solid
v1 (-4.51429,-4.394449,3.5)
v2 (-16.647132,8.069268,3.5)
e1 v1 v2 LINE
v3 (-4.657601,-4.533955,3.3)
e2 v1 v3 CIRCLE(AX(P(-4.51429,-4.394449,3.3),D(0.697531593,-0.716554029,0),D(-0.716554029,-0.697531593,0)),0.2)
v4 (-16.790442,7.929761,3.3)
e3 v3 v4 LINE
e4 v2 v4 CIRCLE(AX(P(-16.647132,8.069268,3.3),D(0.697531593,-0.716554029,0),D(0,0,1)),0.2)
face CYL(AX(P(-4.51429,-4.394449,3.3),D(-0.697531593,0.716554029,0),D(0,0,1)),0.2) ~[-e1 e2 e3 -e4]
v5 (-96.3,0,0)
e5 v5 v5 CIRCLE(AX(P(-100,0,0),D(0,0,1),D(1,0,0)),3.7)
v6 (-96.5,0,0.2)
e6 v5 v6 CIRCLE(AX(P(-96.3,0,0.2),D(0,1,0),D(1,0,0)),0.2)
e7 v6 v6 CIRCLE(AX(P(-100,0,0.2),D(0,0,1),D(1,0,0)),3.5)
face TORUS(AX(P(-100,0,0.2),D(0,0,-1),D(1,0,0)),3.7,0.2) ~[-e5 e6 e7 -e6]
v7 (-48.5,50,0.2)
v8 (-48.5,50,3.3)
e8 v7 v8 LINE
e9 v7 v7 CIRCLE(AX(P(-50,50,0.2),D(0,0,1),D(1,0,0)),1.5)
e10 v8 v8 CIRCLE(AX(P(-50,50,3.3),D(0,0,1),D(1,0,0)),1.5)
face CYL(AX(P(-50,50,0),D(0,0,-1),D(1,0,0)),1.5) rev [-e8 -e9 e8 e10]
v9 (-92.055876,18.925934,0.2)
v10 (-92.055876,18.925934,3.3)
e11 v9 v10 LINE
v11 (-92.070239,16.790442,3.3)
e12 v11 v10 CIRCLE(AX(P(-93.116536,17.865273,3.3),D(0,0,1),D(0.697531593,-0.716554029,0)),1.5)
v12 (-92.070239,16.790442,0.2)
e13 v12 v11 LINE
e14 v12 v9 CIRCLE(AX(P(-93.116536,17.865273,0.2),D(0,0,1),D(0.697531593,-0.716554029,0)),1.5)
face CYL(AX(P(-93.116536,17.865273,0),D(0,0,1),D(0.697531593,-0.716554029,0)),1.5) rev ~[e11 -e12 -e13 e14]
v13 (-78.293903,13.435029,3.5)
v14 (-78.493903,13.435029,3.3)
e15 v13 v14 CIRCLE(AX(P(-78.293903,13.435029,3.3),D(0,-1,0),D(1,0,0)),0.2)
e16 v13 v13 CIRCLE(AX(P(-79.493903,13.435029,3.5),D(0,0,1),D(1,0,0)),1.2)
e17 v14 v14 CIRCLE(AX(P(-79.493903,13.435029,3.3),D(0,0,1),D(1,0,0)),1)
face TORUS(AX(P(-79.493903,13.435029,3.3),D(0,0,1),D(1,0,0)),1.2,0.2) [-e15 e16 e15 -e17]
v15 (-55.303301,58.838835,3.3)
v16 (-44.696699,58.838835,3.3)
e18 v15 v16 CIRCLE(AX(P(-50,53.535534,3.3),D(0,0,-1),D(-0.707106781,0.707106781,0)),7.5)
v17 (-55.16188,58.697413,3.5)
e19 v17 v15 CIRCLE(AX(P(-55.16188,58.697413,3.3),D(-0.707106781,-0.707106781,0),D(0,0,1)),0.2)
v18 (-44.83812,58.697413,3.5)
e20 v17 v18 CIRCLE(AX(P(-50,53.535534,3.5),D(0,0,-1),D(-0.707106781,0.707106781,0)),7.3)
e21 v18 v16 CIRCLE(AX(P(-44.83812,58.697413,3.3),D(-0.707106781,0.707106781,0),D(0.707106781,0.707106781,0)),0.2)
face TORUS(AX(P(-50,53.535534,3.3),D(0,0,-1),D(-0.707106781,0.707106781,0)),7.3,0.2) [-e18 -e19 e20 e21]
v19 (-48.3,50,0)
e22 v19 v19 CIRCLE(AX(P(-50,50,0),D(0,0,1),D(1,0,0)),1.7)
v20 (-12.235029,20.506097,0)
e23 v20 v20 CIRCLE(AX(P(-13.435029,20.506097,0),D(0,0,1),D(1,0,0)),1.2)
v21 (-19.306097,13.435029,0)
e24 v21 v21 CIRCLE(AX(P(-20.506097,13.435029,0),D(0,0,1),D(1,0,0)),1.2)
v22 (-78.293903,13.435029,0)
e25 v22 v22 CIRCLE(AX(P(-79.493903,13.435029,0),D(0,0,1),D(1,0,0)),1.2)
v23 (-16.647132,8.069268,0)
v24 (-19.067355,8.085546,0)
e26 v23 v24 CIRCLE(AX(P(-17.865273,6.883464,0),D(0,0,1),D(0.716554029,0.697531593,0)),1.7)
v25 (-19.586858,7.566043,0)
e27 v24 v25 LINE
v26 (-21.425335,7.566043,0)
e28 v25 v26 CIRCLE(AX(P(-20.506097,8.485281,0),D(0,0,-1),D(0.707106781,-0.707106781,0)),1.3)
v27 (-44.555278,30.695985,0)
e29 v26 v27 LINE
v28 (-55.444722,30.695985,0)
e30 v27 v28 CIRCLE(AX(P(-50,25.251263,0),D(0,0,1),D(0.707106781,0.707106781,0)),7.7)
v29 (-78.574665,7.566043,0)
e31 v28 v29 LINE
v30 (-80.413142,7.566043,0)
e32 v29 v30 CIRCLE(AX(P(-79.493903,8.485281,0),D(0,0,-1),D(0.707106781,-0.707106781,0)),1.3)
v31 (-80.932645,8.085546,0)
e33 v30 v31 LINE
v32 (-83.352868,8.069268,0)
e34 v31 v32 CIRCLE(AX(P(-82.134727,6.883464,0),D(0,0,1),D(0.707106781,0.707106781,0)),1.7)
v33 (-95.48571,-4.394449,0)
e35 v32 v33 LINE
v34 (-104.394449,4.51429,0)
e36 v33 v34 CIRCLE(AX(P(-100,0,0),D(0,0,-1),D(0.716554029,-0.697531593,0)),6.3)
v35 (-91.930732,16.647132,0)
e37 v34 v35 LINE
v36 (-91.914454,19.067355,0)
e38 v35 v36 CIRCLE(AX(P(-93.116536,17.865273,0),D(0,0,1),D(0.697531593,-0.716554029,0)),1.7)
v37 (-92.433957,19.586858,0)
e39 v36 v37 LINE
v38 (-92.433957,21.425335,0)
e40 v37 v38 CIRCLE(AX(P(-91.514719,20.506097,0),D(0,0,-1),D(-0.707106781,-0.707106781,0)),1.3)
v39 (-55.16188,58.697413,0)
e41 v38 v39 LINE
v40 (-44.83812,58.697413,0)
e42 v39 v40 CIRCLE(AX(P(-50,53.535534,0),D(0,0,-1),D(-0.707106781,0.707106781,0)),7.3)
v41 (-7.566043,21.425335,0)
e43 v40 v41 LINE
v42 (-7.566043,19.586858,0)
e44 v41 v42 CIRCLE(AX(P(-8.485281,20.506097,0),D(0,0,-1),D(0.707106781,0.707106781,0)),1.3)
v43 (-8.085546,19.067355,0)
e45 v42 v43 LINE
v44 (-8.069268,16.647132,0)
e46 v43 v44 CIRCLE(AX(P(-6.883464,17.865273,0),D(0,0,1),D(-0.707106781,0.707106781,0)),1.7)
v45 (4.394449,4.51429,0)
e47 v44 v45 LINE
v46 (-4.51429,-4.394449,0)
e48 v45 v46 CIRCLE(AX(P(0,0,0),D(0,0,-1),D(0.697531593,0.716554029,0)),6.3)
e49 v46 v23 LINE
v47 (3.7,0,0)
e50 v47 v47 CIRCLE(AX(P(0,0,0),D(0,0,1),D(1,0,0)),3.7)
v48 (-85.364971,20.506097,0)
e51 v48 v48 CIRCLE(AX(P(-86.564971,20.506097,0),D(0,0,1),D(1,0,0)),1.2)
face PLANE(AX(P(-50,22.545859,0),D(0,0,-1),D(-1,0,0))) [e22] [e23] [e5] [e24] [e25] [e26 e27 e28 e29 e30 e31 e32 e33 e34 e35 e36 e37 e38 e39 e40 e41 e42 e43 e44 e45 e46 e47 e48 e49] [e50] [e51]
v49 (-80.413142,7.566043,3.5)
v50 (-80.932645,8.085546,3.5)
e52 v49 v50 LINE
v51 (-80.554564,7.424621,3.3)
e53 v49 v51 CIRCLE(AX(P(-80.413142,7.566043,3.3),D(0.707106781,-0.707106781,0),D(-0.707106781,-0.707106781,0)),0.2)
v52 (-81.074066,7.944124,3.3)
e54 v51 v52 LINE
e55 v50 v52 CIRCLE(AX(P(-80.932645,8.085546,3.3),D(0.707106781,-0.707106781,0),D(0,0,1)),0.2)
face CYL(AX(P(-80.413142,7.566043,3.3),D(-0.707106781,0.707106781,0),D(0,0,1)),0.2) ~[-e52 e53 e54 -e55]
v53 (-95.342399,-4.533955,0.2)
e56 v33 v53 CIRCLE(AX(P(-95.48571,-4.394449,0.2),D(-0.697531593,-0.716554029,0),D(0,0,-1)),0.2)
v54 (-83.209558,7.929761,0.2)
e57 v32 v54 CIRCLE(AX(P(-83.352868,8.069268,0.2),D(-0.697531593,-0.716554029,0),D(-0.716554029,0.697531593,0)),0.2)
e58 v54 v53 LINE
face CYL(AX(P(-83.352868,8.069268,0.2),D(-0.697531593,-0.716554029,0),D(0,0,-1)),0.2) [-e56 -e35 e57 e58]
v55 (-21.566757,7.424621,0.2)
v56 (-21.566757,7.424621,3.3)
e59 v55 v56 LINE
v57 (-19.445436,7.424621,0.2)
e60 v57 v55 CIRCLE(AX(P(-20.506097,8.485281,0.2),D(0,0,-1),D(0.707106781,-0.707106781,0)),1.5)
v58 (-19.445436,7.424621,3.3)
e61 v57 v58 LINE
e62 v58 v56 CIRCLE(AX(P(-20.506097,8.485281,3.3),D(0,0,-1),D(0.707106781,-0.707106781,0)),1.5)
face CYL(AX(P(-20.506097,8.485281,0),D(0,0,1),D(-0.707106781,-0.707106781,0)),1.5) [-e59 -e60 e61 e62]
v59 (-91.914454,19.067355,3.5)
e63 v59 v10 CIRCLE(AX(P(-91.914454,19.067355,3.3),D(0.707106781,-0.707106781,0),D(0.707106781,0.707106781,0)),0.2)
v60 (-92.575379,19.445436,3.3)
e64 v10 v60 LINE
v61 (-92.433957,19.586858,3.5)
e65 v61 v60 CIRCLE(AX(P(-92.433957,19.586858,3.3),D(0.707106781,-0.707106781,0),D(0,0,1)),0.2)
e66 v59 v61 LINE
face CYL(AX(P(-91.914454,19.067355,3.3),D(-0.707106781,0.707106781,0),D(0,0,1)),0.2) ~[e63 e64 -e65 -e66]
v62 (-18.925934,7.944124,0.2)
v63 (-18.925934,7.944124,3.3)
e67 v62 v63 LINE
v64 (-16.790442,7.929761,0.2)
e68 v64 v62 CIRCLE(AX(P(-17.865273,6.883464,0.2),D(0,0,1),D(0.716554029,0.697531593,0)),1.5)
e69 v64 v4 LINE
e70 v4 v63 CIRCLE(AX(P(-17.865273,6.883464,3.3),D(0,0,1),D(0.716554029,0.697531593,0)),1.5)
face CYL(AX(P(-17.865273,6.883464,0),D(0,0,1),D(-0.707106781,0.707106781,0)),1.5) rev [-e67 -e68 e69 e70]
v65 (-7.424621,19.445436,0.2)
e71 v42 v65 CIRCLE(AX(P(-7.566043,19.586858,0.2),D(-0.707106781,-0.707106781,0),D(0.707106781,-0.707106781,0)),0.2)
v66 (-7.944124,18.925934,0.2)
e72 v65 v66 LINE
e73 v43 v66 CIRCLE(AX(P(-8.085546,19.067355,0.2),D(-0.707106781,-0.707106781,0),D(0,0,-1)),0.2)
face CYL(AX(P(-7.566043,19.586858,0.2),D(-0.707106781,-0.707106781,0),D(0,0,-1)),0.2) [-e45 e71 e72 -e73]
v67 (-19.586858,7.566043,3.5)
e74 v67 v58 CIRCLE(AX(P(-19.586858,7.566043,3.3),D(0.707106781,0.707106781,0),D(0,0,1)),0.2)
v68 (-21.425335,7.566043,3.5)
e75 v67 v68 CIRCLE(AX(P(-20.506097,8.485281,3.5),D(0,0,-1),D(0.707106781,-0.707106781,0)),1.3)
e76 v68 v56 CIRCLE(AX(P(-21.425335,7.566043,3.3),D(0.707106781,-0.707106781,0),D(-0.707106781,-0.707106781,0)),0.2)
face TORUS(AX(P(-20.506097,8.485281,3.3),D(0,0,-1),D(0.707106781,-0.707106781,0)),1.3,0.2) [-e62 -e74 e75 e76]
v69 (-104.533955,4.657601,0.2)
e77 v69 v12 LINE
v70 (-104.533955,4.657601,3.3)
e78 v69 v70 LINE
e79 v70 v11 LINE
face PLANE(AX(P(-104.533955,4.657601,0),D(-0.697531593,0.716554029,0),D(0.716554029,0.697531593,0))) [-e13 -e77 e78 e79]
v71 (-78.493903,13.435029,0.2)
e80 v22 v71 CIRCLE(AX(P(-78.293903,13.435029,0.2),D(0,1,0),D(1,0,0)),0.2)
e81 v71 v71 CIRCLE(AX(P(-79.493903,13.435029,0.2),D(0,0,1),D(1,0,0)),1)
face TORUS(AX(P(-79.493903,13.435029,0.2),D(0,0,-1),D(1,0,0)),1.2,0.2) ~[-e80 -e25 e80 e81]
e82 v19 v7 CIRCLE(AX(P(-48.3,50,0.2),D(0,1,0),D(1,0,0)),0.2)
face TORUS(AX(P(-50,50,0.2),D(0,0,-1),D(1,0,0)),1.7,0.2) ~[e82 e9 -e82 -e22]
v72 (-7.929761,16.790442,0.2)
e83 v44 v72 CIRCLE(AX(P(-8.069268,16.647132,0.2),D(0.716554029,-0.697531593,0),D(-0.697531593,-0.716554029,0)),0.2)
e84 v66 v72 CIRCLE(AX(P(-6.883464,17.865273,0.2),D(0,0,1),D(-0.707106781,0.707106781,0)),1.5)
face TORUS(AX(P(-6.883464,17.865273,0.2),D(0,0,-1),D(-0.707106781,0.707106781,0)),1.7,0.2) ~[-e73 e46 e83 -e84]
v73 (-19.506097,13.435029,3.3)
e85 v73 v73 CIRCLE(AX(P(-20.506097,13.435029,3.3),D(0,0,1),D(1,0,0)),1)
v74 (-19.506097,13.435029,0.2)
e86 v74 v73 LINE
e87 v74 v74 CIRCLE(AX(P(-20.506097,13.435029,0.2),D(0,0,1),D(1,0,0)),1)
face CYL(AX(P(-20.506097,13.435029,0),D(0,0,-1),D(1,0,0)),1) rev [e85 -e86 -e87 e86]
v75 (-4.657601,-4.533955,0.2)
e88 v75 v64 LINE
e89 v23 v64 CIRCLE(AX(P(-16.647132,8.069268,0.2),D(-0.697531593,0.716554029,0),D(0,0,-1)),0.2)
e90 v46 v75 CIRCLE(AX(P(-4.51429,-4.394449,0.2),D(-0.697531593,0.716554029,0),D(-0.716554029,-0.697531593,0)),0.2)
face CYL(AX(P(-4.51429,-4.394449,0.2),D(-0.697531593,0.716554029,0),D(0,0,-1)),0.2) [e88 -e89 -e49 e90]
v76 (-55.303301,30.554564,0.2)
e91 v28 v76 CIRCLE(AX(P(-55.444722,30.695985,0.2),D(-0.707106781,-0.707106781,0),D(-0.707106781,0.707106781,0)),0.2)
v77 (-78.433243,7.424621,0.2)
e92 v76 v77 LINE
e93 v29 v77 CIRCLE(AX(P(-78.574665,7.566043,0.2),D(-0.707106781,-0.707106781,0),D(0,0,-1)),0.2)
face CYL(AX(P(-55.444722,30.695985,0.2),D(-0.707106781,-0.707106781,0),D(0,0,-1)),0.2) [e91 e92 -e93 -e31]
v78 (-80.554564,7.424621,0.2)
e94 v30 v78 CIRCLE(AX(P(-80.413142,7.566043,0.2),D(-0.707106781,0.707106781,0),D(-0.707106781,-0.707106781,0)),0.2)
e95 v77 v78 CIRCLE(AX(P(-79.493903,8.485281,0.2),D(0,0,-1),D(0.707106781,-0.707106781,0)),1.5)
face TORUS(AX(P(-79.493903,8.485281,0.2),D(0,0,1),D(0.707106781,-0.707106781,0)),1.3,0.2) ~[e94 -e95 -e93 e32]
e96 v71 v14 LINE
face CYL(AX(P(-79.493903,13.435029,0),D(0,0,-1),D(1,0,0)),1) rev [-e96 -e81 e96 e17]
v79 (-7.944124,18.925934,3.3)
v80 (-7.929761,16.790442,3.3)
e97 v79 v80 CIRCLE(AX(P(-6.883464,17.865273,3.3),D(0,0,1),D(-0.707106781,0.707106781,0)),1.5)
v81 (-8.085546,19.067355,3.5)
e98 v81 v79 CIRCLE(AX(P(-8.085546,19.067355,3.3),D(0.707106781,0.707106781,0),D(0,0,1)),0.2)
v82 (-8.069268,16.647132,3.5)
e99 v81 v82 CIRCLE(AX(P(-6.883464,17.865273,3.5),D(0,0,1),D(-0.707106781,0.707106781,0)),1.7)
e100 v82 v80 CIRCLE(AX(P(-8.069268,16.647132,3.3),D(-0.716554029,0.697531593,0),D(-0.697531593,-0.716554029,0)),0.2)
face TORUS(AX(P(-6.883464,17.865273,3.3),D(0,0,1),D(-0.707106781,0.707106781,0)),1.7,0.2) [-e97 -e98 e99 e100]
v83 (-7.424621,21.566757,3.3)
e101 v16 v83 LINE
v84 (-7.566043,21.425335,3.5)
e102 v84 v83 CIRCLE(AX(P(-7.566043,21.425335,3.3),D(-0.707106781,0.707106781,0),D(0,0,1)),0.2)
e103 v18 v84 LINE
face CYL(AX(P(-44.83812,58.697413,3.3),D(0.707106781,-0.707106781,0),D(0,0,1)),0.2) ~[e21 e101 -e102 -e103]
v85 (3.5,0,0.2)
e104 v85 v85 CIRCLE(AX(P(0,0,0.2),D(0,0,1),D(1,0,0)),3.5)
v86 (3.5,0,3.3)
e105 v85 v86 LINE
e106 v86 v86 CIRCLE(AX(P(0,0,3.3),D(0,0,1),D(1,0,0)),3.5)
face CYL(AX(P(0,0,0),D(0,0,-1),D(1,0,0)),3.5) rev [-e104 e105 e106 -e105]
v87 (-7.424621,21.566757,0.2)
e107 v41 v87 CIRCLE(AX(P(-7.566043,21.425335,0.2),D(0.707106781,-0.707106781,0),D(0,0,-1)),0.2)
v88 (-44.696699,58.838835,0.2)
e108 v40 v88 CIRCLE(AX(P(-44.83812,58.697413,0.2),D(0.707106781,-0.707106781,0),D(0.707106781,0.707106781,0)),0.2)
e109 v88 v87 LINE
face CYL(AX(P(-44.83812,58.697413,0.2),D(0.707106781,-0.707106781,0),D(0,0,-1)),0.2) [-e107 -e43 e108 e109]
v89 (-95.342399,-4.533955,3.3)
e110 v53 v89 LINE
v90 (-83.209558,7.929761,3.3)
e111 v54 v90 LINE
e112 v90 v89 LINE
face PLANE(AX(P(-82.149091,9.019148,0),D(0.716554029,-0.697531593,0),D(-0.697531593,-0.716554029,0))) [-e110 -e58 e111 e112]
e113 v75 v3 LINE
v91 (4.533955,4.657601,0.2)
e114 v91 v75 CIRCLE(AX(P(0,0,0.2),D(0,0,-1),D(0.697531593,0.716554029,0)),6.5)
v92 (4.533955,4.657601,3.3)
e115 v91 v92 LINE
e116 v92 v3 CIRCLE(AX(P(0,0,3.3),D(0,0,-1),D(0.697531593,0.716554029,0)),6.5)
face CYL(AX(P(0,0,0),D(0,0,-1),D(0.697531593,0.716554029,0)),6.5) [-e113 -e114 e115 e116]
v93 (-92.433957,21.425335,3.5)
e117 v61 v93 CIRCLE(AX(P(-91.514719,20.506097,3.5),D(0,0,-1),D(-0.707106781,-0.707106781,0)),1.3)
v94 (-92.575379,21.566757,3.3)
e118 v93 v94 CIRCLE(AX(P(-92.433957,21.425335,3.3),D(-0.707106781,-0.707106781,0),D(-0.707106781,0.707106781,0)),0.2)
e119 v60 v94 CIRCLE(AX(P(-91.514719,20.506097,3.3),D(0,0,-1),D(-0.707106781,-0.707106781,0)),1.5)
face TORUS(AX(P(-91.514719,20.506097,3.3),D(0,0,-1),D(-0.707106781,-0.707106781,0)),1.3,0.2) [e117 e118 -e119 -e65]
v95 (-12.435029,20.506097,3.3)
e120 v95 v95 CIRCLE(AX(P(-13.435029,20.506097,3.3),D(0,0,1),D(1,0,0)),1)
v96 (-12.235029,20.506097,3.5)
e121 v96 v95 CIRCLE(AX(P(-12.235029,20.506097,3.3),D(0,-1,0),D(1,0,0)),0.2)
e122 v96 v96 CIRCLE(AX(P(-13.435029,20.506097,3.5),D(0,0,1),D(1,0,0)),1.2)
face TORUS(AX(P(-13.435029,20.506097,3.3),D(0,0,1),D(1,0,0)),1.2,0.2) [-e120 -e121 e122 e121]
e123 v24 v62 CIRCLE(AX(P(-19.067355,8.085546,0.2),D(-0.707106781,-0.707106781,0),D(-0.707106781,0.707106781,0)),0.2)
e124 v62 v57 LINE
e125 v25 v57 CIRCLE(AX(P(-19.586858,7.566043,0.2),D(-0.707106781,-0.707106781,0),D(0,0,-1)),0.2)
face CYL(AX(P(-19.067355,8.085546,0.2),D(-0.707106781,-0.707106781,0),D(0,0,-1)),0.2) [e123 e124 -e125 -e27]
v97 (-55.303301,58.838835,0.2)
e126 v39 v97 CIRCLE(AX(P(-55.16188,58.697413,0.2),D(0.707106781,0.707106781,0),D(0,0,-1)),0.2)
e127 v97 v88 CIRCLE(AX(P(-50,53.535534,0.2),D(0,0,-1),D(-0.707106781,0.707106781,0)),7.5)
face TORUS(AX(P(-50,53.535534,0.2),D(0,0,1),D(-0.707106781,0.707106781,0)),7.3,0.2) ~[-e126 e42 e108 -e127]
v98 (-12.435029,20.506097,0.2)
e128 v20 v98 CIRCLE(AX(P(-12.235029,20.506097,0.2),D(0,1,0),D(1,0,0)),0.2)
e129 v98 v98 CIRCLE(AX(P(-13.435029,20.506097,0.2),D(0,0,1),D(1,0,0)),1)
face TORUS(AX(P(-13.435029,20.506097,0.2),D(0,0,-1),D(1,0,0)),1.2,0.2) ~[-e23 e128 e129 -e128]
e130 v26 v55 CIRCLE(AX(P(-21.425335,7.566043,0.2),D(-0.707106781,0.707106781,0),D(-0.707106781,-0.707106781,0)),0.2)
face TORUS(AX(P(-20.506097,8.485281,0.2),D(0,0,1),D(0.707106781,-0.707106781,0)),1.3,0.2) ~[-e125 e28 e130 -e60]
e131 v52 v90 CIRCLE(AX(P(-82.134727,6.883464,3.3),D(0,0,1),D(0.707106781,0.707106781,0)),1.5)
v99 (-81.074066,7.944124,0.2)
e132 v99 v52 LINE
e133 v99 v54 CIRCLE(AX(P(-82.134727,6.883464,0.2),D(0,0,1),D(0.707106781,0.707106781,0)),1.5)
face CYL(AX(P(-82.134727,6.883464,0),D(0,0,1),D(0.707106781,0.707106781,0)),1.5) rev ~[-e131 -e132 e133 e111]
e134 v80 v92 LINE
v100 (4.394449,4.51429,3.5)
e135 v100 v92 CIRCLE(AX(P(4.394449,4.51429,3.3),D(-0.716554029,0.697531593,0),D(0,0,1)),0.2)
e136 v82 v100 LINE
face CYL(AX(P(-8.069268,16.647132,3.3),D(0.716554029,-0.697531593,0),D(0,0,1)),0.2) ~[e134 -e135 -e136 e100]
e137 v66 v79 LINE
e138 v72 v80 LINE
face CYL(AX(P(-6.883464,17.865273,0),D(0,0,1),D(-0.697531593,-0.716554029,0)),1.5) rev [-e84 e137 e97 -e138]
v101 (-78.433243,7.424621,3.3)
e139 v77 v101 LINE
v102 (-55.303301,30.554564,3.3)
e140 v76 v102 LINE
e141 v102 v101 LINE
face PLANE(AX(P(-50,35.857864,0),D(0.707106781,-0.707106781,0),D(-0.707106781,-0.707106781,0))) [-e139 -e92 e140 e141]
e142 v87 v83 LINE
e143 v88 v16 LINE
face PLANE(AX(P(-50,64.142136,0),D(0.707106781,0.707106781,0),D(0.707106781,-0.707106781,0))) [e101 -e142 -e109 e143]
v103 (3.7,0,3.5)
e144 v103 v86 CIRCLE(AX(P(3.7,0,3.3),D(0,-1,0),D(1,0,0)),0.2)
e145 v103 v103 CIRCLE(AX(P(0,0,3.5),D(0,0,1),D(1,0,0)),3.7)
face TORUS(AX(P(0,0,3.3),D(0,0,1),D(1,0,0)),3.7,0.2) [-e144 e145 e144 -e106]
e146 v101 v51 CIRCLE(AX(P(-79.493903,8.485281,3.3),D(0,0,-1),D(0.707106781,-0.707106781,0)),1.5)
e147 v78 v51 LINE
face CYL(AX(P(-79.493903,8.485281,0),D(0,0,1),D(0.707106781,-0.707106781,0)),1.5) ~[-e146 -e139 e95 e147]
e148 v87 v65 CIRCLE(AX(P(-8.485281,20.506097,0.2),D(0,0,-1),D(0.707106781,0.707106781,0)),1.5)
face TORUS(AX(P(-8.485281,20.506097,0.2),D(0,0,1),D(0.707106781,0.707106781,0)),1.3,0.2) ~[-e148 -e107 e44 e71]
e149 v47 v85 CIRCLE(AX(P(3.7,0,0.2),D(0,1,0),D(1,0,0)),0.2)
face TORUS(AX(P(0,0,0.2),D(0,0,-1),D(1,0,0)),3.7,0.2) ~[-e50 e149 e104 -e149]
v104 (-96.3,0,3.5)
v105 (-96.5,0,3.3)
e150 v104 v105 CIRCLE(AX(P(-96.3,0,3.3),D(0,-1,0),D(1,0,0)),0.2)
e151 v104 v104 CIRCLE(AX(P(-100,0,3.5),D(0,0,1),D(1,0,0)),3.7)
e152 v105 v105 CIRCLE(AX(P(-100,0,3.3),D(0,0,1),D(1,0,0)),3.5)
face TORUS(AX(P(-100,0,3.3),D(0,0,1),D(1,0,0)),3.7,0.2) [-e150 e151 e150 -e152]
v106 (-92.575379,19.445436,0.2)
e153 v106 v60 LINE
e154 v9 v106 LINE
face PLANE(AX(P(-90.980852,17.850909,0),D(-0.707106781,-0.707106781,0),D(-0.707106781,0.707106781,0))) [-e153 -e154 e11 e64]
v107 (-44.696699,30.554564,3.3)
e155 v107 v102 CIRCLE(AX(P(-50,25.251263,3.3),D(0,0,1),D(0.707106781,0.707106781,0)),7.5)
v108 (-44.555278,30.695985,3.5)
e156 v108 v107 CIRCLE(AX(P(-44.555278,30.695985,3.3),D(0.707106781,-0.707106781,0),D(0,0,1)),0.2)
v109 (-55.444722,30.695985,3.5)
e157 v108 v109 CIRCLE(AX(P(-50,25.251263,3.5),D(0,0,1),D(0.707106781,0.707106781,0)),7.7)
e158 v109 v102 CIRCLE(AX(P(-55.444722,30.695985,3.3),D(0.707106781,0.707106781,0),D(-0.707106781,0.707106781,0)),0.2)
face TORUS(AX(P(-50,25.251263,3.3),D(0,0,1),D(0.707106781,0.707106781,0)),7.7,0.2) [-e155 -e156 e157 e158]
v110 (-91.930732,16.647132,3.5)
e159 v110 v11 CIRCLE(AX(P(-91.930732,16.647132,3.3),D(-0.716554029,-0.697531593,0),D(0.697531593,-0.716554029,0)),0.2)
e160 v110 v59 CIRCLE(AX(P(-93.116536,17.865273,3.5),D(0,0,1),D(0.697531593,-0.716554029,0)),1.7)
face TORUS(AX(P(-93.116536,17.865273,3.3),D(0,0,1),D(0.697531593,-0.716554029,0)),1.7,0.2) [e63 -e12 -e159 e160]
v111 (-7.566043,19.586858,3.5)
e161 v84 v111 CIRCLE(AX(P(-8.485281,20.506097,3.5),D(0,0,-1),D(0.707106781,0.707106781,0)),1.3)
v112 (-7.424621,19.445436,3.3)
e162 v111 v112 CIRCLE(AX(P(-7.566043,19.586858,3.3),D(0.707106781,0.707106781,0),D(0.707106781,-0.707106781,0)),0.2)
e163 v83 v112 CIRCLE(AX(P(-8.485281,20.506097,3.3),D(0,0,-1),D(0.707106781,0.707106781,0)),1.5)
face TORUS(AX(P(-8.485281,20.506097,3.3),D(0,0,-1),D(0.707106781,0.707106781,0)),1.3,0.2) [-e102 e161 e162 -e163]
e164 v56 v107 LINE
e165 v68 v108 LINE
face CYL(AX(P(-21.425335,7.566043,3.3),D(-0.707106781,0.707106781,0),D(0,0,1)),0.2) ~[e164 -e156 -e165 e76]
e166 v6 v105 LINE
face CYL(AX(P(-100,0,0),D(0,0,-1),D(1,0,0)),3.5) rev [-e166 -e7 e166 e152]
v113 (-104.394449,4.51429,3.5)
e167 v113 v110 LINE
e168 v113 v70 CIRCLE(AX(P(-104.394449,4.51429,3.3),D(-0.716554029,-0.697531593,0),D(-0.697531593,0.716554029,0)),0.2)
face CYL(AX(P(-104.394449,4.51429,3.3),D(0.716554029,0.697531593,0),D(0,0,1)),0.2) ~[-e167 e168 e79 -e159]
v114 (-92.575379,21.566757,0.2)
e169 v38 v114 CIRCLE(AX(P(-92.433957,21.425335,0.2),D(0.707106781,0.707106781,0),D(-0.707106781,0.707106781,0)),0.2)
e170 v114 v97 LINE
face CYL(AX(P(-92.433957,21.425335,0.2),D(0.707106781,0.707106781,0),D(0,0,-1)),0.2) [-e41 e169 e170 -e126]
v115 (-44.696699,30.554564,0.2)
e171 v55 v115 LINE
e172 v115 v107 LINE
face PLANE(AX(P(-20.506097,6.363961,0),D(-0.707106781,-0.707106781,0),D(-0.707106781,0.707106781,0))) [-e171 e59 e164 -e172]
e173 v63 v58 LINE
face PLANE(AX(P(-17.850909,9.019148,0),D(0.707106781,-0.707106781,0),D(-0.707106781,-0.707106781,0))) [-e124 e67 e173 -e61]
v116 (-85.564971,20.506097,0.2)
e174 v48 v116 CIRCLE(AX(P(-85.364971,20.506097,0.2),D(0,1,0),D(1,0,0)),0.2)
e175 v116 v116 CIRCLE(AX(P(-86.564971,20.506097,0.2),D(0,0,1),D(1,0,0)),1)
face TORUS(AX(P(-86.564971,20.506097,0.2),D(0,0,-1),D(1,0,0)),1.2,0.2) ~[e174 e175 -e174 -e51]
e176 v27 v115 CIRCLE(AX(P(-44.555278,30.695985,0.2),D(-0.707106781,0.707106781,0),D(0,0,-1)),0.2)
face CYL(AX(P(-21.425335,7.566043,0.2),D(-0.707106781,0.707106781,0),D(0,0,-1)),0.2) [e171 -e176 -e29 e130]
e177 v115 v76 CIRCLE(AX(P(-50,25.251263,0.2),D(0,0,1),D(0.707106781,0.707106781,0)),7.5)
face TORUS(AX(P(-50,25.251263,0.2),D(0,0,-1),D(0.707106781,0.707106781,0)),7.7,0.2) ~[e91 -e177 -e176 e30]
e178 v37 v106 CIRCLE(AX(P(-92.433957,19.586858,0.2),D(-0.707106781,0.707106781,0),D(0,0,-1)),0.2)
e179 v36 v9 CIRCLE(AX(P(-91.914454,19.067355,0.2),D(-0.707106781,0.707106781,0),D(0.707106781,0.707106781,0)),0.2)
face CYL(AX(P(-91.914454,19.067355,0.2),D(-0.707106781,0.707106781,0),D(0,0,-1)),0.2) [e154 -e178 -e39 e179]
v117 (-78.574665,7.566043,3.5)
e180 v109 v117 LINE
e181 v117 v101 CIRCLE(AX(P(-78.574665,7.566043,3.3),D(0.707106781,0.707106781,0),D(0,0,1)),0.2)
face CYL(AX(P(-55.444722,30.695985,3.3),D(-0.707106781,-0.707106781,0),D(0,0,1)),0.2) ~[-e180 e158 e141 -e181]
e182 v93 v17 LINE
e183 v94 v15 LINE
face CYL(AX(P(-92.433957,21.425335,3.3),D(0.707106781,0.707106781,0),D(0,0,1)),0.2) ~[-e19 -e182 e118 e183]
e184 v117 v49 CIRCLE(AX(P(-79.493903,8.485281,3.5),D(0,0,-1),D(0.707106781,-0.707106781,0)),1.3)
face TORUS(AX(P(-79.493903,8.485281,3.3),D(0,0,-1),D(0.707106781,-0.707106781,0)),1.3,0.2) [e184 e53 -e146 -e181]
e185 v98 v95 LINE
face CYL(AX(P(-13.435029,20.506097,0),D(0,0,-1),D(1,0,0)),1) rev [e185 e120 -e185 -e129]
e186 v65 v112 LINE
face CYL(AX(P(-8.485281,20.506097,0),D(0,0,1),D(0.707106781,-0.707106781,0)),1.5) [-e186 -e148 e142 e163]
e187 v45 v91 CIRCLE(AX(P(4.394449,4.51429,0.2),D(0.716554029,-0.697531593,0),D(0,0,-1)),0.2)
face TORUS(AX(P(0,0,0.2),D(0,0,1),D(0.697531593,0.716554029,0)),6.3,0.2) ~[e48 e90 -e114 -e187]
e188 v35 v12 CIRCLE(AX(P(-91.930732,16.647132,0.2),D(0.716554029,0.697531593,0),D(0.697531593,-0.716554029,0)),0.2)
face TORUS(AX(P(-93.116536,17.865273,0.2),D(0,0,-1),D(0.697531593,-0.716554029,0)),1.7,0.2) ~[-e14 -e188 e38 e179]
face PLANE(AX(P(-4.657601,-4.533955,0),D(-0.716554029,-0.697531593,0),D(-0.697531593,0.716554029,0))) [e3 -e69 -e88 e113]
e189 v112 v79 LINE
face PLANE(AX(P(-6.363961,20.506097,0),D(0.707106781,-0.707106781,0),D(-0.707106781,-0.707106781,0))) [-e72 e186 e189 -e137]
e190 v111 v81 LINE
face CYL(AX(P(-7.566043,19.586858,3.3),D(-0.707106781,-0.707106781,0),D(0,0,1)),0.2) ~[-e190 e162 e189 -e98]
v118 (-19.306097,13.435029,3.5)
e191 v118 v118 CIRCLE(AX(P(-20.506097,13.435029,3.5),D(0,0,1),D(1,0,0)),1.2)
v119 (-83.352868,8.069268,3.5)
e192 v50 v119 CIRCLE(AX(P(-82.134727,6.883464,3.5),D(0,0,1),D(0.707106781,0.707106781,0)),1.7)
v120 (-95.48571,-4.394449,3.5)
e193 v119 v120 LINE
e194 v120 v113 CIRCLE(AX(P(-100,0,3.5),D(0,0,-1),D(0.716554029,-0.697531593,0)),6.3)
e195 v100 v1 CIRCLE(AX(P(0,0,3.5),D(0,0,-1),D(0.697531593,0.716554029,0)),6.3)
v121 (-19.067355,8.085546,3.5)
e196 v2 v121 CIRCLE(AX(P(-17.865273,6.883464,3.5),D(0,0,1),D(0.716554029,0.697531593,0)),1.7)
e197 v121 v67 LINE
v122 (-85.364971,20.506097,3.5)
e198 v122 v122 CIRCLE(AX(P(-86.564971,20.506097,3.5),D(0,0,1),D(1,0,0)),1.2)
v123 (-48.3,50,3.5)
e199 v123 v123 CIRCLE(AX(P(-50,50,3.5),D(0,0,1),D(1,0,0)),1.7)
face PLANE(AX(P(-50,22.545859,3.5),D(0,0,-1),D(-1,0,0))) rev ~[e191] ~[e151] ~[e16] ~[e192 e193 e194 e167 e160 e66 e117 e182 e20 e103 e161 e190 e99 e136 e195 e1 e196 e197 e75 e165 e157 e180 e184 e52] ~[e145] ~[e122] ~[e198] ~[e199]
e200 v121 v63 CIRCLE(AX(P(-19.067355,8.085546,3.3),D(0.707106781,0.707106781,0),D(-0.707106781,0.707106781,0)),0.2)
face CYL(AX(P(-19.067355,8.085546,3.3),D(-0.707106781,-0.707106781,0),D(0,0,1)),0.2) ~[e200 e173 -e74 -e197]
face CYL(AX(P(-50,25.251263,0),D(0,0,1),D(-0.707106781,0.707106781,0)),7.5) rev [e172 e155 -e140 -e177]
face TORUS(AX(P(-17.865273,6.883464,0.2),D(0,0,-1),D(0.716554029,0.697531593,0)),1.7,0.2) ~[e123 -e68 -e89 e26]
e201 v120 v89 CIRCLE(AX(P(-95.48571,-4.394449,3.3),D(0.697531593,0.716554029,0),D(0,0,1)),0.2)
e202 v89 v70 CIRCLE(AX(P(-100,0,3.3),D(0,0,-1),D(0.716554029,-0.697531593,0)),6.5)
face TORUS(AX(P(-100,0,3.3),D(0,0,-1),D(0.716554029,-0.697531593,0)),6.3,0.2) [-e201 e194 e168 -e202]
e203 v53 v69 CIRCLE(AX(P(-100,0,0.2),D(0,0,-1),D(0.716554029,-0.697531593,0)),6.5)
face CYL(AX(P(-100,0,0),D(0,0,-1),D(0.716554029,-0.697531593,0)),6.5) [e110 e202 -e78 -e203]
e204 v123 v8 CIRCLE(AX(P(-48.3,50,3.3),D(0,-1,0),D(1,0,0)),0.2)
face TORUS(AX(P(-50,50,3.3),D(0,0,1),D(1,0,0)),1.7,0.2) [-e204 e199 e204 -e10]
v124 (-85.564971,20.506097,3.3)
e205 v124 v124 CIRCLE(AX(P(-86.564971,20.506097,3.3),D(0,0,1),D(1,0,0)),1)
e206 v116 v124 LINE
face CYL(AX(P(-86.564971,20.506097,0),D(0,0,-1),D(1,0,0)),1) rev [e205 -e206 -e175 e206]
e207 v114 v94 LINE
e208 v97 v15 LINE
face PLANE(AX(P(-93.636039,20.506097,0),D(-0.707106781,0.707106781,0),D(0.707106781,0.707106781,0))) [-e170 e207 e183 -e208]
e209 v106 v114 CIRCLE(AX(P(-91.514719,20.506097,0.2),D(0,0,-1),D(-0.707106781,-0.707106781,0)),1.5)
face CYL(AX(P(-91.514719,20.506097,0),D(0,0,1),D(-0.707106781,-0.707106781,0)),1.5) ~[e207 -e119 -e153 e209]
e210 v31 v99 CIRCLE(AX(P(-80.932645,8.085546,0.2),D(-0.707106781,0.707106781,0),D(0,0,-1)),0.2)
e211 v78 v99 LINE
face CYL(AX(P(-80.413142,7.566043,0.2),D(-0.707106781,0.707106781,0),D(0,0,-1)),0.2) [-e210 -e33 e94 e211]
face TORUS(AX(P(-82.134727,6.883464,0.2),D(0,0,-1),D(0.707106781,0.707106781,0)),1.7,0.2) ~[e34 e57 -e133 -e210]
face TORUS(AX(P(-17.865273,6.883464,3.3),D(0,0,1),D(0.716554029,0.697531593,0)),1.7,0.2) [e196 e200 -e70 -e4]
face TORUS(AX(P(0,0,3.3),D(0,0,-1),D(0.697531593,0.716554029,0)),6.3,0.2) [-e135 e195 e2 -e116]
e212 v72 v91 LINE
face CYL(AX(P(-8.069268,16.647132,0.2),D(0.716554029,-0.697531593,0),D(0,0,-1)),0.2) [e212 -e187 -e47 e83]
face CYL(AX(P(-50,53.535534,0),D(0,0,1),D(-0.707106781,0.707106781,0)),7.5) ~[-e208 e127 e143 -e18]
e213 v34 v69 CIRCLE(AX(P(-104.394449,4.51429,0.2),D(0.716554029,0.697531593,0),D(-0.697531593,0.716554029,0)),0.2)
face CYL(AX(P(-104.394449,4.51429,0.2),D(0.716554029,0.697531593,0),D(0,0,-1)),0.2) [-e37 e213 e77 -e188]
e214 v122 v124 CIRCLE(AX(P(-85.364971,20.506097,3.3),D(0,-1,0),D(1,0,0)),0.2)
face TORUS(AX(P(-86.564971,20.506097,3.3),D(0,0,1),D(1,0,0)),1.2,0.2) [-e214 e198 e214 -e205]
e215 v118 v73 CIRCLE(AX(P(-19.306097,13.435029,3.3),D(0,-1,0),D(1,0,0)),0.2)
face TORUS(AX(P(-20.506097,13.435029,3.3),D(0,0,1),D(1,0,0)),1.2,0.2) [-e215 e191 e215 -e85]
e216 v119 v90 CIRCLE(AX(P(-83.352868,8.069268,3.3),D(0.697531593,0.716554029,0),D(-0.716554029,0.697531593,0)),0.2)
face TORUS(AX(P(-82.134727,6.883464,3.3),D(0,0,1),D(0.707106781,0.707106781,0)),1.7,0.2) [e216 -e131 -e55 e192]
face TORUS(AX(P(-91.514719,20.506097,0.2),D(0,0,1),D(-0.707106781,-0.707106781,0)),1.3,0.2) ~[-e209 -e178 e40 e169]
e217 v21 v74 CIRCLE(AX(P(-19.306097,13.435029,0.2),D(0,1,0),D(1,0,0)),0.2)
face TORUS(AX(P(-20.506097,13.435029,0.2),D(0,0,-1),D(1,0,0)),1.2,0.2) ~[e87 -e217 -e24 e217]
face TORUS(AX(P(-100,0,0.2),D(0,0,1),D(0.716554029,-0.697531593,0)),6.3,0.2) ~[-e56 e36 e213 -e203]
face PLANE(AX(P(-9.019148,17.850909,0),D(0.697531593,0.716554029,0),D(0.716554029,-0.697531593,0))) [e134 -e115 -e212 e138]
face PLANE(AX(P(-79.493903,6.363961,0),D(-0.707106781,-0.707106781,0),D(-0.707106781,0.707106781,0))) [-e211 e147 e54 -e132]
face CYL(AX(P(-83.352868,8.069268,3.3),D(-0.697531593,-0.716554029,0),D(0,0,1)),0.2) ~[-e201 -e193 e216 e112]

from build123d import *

# Parameters (mm, degrees)
SKETCH5_R           = 3.5
SKETCH5_R_2         = 1
SKETCH5_R_3         = 1.5
BOSS_EXTRUDE1_DEPTH = 3.5
FILLET1_R           = 7.5
FILLET2_R           = 1.5
FILLET3_R           = 0.2


with BuildPart() as part:
    # Sketch5 → Boss-Extrude1 (new body)
    with BuildSketch(Plane.XY):
        with BuildLine():
            Line((-82.149090724, 9.019148409), (-95.342398812, -4.533955357))
            ThreePointArc((-95.342398812, -4.533955357), (-104.596194078, -4.596194078), (-104.533955357, 4.657601188))
            Line((-104.533955357, 4.657601188), (-90.980851591, 17.850909276))
            Line((-90.980851591, 17.850909276), (-93.636038969, 20.506096654))
            Line((-93.636038969, 20.506096654), (-50, 64.142135624))
            Line((-50, 64.142135624), (-6.363961031, 20.506096654))
            Line((-6.363961031, 20.506096654), (-9.019148409, 17.850909276))
            Line((-9.019148409, 17.850909276), (4.533955357, 4.657601188))
            ThreePointArc((4.533955357, 4.657601188), (4.596194078, -4.596194078), (-4.657601188, -4.533955357))
            Line((-4.657601188, -4.533955357), (-17.850909276, 9.019148409))
            Line((-17.850909276, 9.019148409), (-20.506096654, 6.363961031))
            Line((-20.506096654, 6.363961031), (-50, 35.857864376))
            Line((-50, 35.857864376), (-79.493903346, 6.363961031))
            Line((-79.493903346, 6.363961031), (-82.149090724, 9.019148409))
        make_face()
        Circle(SKETCH5_R, mode=Mode.SUBTRACT)
        with Locations((-100, 0)):
            Circle(SKETCH5_R, mode=Mode.SUBTRACT)
        with Locations((-86.564971157, 20.506096654)):
            Circle(SKETCH5_R_2, mode=Mode.SUBTRACT)
        with Locations((-50, 50)):
            Circle(SKETCH5_R_3, mode=Mode.SUBTRACT)
        with Locations((-13.435028843, 20.506096654)):
            Circle(SKETCH5_R_2, mode=Mode.SUBTRACT)
        with Locations((-20.506096654, 13.435028843)):
            Circle(SKETCH5_R_2, mode=Mode.SUBTRACT)
        with Locations((-79.493903346, 13.435028843)):
            Circle(SKETCH5_R_2, mode=Mode.SUBTRACT)
    extrude(amount=BOSS_EXTRUDE1_DEPTH)

    # Fillet1
    fillet1_edges = [part.edges().sort_by_distance(p)[0] for p in [
        (-50, 64.142135624, 1.75),
        (-50, 35.857864376, 1.75),
    ]]
    fillet(fillet1_edges, radius=FILLET1_R)

    # Fillet2
    fillet2_edges = [part.edges().sort_by_distance(p)[0] for p in [
        (-82.149090724, 9.019148409, 1.75),
        (-90.980851591, 17.850909276, 1.75),
        (-93.636038969, 20.506096654, 1.75),
        (-6.363961031, 20.506096654, 1.75),
        (-9.019148409, 17.850909276, 1.75),
        (-17.850909276, 9.019148409, 1.75),
        (-20.506096654, 6.363961031, 1.75),
        (-79.493903346, 6.363961031, 1.75),
    ]]
    fillet(fillet2_edges, radius=FILLET2_R)

    # Fillet3
    fillet3_edges = [part.edges().sort_by_distance(p)[0] for p in [
        (-91.616569941, 17.855184959, 0),
        (-91.616569941, 17.855184959, 3.5),
        (-82.144815041, 8.383430059, 0),
        (-82.144815041, 8.383430059, 3.5),
        (-8.383430059, 17.855184959, 0),
        (-8.383430059, 17.855184959, 3.5),
        (-17.855184959, 8.383430059, 0),
        (-17.855184959, 8.383430059, 3.5),
        (-89.275978249, 1.697903009, 0),
        (-104.596194078, -4.596194078, 0),
        (-1.697903009, 10.724021751, 0),
        (4.596194078, -4.596194078, 0),
        (4.596194078, -4.596194078, 3.5),
        (-1.697903009, 10.724021751, 3.5),
        (-3.5, 0, 0),
        (-3.5, 0, 3.5),
        (-103.5, 0, 0),
        (-103.5, 0, 3.5),
        (-87.564971157, 20.506096654, 0),
        (-87.564971157, 20.506096654, 3.5),
        (-51.5, 50, 0),
        (-51.5, 50, 3.5),
        (-14.435028843, 20.506096654, 0),
        (-14.435028843, 20.506096654, 3.5),
        (-104.596194078, -4.596194078, 3.5),
        (-21.506096654, 13.435028843, 0),
        (-21.506096654, 13.435028843, 3.5),
        (-89.275978249, 1.697903009, 3.5),
        (-80.493903346, 13.435028843, 0),
        (-80.493903346, 13.435028843, 3.5),
        (-33.131727984, 18.98959236, 0),
        (-33.131727984, 18.98959236, 3.5),
        (-73.939339828, 40.202795796, 0),
        (-73.939339828, 40.202795796, 3.5),
        (-50, 61.035533906, 0),
        (-50, 61.035533906, 3.5),
        (-50, 32.751262658, 0),
        (-50, 32.751262658, 3.5),
        (-98.302096991, 10.724021751, 0),
        (-98.302096991, 10.724021751, 3.5),
        (-92.315627321, 19.185685006, 0),
        (-92.315627321, 19.185685006, 3.5),
        (-26.060660172, 40.202795796, 0),
        (-7.684372679, 19.185685006, 0),
        (-10.724021751, 1.697903009, 0),
        (-19.185685006, 7.684372679, 0),
        (-66.868272016, 18.98959236, 0),
        (-80.814314994, 7.684372679, 0),
        (-20.506096654, 6.985281374, 0),
        (-6.985281374, 20.506096654, 0),
        (-79.493903346, 6.985281374, 0),
        (-93.014718626, 20.506096654, 0),
        (-26.060660172, 40.202795796, 3.5),
        (-80.814314994, 7.684372679, 3.5),
        (-66.868272016, 18.98959236, 3.5),
        (-19.185685006, 7.684372679, 3.5),
        (-10.724021751, 1.697903009, 3.5),
        (-7.684372679, 19.185685006, 3.5),
        (-20.506096654, 6.985281374, 3.5),
        (-6.985281374, 20.506096654, 3.5),
        (-79.493903346, 6.985281374, 3.5),
        (-93.014718626, 20.506096654, 3.5),
    ]]
    fillet(fillet3_edges, radius=FILLET3_R)


solid = part.part
